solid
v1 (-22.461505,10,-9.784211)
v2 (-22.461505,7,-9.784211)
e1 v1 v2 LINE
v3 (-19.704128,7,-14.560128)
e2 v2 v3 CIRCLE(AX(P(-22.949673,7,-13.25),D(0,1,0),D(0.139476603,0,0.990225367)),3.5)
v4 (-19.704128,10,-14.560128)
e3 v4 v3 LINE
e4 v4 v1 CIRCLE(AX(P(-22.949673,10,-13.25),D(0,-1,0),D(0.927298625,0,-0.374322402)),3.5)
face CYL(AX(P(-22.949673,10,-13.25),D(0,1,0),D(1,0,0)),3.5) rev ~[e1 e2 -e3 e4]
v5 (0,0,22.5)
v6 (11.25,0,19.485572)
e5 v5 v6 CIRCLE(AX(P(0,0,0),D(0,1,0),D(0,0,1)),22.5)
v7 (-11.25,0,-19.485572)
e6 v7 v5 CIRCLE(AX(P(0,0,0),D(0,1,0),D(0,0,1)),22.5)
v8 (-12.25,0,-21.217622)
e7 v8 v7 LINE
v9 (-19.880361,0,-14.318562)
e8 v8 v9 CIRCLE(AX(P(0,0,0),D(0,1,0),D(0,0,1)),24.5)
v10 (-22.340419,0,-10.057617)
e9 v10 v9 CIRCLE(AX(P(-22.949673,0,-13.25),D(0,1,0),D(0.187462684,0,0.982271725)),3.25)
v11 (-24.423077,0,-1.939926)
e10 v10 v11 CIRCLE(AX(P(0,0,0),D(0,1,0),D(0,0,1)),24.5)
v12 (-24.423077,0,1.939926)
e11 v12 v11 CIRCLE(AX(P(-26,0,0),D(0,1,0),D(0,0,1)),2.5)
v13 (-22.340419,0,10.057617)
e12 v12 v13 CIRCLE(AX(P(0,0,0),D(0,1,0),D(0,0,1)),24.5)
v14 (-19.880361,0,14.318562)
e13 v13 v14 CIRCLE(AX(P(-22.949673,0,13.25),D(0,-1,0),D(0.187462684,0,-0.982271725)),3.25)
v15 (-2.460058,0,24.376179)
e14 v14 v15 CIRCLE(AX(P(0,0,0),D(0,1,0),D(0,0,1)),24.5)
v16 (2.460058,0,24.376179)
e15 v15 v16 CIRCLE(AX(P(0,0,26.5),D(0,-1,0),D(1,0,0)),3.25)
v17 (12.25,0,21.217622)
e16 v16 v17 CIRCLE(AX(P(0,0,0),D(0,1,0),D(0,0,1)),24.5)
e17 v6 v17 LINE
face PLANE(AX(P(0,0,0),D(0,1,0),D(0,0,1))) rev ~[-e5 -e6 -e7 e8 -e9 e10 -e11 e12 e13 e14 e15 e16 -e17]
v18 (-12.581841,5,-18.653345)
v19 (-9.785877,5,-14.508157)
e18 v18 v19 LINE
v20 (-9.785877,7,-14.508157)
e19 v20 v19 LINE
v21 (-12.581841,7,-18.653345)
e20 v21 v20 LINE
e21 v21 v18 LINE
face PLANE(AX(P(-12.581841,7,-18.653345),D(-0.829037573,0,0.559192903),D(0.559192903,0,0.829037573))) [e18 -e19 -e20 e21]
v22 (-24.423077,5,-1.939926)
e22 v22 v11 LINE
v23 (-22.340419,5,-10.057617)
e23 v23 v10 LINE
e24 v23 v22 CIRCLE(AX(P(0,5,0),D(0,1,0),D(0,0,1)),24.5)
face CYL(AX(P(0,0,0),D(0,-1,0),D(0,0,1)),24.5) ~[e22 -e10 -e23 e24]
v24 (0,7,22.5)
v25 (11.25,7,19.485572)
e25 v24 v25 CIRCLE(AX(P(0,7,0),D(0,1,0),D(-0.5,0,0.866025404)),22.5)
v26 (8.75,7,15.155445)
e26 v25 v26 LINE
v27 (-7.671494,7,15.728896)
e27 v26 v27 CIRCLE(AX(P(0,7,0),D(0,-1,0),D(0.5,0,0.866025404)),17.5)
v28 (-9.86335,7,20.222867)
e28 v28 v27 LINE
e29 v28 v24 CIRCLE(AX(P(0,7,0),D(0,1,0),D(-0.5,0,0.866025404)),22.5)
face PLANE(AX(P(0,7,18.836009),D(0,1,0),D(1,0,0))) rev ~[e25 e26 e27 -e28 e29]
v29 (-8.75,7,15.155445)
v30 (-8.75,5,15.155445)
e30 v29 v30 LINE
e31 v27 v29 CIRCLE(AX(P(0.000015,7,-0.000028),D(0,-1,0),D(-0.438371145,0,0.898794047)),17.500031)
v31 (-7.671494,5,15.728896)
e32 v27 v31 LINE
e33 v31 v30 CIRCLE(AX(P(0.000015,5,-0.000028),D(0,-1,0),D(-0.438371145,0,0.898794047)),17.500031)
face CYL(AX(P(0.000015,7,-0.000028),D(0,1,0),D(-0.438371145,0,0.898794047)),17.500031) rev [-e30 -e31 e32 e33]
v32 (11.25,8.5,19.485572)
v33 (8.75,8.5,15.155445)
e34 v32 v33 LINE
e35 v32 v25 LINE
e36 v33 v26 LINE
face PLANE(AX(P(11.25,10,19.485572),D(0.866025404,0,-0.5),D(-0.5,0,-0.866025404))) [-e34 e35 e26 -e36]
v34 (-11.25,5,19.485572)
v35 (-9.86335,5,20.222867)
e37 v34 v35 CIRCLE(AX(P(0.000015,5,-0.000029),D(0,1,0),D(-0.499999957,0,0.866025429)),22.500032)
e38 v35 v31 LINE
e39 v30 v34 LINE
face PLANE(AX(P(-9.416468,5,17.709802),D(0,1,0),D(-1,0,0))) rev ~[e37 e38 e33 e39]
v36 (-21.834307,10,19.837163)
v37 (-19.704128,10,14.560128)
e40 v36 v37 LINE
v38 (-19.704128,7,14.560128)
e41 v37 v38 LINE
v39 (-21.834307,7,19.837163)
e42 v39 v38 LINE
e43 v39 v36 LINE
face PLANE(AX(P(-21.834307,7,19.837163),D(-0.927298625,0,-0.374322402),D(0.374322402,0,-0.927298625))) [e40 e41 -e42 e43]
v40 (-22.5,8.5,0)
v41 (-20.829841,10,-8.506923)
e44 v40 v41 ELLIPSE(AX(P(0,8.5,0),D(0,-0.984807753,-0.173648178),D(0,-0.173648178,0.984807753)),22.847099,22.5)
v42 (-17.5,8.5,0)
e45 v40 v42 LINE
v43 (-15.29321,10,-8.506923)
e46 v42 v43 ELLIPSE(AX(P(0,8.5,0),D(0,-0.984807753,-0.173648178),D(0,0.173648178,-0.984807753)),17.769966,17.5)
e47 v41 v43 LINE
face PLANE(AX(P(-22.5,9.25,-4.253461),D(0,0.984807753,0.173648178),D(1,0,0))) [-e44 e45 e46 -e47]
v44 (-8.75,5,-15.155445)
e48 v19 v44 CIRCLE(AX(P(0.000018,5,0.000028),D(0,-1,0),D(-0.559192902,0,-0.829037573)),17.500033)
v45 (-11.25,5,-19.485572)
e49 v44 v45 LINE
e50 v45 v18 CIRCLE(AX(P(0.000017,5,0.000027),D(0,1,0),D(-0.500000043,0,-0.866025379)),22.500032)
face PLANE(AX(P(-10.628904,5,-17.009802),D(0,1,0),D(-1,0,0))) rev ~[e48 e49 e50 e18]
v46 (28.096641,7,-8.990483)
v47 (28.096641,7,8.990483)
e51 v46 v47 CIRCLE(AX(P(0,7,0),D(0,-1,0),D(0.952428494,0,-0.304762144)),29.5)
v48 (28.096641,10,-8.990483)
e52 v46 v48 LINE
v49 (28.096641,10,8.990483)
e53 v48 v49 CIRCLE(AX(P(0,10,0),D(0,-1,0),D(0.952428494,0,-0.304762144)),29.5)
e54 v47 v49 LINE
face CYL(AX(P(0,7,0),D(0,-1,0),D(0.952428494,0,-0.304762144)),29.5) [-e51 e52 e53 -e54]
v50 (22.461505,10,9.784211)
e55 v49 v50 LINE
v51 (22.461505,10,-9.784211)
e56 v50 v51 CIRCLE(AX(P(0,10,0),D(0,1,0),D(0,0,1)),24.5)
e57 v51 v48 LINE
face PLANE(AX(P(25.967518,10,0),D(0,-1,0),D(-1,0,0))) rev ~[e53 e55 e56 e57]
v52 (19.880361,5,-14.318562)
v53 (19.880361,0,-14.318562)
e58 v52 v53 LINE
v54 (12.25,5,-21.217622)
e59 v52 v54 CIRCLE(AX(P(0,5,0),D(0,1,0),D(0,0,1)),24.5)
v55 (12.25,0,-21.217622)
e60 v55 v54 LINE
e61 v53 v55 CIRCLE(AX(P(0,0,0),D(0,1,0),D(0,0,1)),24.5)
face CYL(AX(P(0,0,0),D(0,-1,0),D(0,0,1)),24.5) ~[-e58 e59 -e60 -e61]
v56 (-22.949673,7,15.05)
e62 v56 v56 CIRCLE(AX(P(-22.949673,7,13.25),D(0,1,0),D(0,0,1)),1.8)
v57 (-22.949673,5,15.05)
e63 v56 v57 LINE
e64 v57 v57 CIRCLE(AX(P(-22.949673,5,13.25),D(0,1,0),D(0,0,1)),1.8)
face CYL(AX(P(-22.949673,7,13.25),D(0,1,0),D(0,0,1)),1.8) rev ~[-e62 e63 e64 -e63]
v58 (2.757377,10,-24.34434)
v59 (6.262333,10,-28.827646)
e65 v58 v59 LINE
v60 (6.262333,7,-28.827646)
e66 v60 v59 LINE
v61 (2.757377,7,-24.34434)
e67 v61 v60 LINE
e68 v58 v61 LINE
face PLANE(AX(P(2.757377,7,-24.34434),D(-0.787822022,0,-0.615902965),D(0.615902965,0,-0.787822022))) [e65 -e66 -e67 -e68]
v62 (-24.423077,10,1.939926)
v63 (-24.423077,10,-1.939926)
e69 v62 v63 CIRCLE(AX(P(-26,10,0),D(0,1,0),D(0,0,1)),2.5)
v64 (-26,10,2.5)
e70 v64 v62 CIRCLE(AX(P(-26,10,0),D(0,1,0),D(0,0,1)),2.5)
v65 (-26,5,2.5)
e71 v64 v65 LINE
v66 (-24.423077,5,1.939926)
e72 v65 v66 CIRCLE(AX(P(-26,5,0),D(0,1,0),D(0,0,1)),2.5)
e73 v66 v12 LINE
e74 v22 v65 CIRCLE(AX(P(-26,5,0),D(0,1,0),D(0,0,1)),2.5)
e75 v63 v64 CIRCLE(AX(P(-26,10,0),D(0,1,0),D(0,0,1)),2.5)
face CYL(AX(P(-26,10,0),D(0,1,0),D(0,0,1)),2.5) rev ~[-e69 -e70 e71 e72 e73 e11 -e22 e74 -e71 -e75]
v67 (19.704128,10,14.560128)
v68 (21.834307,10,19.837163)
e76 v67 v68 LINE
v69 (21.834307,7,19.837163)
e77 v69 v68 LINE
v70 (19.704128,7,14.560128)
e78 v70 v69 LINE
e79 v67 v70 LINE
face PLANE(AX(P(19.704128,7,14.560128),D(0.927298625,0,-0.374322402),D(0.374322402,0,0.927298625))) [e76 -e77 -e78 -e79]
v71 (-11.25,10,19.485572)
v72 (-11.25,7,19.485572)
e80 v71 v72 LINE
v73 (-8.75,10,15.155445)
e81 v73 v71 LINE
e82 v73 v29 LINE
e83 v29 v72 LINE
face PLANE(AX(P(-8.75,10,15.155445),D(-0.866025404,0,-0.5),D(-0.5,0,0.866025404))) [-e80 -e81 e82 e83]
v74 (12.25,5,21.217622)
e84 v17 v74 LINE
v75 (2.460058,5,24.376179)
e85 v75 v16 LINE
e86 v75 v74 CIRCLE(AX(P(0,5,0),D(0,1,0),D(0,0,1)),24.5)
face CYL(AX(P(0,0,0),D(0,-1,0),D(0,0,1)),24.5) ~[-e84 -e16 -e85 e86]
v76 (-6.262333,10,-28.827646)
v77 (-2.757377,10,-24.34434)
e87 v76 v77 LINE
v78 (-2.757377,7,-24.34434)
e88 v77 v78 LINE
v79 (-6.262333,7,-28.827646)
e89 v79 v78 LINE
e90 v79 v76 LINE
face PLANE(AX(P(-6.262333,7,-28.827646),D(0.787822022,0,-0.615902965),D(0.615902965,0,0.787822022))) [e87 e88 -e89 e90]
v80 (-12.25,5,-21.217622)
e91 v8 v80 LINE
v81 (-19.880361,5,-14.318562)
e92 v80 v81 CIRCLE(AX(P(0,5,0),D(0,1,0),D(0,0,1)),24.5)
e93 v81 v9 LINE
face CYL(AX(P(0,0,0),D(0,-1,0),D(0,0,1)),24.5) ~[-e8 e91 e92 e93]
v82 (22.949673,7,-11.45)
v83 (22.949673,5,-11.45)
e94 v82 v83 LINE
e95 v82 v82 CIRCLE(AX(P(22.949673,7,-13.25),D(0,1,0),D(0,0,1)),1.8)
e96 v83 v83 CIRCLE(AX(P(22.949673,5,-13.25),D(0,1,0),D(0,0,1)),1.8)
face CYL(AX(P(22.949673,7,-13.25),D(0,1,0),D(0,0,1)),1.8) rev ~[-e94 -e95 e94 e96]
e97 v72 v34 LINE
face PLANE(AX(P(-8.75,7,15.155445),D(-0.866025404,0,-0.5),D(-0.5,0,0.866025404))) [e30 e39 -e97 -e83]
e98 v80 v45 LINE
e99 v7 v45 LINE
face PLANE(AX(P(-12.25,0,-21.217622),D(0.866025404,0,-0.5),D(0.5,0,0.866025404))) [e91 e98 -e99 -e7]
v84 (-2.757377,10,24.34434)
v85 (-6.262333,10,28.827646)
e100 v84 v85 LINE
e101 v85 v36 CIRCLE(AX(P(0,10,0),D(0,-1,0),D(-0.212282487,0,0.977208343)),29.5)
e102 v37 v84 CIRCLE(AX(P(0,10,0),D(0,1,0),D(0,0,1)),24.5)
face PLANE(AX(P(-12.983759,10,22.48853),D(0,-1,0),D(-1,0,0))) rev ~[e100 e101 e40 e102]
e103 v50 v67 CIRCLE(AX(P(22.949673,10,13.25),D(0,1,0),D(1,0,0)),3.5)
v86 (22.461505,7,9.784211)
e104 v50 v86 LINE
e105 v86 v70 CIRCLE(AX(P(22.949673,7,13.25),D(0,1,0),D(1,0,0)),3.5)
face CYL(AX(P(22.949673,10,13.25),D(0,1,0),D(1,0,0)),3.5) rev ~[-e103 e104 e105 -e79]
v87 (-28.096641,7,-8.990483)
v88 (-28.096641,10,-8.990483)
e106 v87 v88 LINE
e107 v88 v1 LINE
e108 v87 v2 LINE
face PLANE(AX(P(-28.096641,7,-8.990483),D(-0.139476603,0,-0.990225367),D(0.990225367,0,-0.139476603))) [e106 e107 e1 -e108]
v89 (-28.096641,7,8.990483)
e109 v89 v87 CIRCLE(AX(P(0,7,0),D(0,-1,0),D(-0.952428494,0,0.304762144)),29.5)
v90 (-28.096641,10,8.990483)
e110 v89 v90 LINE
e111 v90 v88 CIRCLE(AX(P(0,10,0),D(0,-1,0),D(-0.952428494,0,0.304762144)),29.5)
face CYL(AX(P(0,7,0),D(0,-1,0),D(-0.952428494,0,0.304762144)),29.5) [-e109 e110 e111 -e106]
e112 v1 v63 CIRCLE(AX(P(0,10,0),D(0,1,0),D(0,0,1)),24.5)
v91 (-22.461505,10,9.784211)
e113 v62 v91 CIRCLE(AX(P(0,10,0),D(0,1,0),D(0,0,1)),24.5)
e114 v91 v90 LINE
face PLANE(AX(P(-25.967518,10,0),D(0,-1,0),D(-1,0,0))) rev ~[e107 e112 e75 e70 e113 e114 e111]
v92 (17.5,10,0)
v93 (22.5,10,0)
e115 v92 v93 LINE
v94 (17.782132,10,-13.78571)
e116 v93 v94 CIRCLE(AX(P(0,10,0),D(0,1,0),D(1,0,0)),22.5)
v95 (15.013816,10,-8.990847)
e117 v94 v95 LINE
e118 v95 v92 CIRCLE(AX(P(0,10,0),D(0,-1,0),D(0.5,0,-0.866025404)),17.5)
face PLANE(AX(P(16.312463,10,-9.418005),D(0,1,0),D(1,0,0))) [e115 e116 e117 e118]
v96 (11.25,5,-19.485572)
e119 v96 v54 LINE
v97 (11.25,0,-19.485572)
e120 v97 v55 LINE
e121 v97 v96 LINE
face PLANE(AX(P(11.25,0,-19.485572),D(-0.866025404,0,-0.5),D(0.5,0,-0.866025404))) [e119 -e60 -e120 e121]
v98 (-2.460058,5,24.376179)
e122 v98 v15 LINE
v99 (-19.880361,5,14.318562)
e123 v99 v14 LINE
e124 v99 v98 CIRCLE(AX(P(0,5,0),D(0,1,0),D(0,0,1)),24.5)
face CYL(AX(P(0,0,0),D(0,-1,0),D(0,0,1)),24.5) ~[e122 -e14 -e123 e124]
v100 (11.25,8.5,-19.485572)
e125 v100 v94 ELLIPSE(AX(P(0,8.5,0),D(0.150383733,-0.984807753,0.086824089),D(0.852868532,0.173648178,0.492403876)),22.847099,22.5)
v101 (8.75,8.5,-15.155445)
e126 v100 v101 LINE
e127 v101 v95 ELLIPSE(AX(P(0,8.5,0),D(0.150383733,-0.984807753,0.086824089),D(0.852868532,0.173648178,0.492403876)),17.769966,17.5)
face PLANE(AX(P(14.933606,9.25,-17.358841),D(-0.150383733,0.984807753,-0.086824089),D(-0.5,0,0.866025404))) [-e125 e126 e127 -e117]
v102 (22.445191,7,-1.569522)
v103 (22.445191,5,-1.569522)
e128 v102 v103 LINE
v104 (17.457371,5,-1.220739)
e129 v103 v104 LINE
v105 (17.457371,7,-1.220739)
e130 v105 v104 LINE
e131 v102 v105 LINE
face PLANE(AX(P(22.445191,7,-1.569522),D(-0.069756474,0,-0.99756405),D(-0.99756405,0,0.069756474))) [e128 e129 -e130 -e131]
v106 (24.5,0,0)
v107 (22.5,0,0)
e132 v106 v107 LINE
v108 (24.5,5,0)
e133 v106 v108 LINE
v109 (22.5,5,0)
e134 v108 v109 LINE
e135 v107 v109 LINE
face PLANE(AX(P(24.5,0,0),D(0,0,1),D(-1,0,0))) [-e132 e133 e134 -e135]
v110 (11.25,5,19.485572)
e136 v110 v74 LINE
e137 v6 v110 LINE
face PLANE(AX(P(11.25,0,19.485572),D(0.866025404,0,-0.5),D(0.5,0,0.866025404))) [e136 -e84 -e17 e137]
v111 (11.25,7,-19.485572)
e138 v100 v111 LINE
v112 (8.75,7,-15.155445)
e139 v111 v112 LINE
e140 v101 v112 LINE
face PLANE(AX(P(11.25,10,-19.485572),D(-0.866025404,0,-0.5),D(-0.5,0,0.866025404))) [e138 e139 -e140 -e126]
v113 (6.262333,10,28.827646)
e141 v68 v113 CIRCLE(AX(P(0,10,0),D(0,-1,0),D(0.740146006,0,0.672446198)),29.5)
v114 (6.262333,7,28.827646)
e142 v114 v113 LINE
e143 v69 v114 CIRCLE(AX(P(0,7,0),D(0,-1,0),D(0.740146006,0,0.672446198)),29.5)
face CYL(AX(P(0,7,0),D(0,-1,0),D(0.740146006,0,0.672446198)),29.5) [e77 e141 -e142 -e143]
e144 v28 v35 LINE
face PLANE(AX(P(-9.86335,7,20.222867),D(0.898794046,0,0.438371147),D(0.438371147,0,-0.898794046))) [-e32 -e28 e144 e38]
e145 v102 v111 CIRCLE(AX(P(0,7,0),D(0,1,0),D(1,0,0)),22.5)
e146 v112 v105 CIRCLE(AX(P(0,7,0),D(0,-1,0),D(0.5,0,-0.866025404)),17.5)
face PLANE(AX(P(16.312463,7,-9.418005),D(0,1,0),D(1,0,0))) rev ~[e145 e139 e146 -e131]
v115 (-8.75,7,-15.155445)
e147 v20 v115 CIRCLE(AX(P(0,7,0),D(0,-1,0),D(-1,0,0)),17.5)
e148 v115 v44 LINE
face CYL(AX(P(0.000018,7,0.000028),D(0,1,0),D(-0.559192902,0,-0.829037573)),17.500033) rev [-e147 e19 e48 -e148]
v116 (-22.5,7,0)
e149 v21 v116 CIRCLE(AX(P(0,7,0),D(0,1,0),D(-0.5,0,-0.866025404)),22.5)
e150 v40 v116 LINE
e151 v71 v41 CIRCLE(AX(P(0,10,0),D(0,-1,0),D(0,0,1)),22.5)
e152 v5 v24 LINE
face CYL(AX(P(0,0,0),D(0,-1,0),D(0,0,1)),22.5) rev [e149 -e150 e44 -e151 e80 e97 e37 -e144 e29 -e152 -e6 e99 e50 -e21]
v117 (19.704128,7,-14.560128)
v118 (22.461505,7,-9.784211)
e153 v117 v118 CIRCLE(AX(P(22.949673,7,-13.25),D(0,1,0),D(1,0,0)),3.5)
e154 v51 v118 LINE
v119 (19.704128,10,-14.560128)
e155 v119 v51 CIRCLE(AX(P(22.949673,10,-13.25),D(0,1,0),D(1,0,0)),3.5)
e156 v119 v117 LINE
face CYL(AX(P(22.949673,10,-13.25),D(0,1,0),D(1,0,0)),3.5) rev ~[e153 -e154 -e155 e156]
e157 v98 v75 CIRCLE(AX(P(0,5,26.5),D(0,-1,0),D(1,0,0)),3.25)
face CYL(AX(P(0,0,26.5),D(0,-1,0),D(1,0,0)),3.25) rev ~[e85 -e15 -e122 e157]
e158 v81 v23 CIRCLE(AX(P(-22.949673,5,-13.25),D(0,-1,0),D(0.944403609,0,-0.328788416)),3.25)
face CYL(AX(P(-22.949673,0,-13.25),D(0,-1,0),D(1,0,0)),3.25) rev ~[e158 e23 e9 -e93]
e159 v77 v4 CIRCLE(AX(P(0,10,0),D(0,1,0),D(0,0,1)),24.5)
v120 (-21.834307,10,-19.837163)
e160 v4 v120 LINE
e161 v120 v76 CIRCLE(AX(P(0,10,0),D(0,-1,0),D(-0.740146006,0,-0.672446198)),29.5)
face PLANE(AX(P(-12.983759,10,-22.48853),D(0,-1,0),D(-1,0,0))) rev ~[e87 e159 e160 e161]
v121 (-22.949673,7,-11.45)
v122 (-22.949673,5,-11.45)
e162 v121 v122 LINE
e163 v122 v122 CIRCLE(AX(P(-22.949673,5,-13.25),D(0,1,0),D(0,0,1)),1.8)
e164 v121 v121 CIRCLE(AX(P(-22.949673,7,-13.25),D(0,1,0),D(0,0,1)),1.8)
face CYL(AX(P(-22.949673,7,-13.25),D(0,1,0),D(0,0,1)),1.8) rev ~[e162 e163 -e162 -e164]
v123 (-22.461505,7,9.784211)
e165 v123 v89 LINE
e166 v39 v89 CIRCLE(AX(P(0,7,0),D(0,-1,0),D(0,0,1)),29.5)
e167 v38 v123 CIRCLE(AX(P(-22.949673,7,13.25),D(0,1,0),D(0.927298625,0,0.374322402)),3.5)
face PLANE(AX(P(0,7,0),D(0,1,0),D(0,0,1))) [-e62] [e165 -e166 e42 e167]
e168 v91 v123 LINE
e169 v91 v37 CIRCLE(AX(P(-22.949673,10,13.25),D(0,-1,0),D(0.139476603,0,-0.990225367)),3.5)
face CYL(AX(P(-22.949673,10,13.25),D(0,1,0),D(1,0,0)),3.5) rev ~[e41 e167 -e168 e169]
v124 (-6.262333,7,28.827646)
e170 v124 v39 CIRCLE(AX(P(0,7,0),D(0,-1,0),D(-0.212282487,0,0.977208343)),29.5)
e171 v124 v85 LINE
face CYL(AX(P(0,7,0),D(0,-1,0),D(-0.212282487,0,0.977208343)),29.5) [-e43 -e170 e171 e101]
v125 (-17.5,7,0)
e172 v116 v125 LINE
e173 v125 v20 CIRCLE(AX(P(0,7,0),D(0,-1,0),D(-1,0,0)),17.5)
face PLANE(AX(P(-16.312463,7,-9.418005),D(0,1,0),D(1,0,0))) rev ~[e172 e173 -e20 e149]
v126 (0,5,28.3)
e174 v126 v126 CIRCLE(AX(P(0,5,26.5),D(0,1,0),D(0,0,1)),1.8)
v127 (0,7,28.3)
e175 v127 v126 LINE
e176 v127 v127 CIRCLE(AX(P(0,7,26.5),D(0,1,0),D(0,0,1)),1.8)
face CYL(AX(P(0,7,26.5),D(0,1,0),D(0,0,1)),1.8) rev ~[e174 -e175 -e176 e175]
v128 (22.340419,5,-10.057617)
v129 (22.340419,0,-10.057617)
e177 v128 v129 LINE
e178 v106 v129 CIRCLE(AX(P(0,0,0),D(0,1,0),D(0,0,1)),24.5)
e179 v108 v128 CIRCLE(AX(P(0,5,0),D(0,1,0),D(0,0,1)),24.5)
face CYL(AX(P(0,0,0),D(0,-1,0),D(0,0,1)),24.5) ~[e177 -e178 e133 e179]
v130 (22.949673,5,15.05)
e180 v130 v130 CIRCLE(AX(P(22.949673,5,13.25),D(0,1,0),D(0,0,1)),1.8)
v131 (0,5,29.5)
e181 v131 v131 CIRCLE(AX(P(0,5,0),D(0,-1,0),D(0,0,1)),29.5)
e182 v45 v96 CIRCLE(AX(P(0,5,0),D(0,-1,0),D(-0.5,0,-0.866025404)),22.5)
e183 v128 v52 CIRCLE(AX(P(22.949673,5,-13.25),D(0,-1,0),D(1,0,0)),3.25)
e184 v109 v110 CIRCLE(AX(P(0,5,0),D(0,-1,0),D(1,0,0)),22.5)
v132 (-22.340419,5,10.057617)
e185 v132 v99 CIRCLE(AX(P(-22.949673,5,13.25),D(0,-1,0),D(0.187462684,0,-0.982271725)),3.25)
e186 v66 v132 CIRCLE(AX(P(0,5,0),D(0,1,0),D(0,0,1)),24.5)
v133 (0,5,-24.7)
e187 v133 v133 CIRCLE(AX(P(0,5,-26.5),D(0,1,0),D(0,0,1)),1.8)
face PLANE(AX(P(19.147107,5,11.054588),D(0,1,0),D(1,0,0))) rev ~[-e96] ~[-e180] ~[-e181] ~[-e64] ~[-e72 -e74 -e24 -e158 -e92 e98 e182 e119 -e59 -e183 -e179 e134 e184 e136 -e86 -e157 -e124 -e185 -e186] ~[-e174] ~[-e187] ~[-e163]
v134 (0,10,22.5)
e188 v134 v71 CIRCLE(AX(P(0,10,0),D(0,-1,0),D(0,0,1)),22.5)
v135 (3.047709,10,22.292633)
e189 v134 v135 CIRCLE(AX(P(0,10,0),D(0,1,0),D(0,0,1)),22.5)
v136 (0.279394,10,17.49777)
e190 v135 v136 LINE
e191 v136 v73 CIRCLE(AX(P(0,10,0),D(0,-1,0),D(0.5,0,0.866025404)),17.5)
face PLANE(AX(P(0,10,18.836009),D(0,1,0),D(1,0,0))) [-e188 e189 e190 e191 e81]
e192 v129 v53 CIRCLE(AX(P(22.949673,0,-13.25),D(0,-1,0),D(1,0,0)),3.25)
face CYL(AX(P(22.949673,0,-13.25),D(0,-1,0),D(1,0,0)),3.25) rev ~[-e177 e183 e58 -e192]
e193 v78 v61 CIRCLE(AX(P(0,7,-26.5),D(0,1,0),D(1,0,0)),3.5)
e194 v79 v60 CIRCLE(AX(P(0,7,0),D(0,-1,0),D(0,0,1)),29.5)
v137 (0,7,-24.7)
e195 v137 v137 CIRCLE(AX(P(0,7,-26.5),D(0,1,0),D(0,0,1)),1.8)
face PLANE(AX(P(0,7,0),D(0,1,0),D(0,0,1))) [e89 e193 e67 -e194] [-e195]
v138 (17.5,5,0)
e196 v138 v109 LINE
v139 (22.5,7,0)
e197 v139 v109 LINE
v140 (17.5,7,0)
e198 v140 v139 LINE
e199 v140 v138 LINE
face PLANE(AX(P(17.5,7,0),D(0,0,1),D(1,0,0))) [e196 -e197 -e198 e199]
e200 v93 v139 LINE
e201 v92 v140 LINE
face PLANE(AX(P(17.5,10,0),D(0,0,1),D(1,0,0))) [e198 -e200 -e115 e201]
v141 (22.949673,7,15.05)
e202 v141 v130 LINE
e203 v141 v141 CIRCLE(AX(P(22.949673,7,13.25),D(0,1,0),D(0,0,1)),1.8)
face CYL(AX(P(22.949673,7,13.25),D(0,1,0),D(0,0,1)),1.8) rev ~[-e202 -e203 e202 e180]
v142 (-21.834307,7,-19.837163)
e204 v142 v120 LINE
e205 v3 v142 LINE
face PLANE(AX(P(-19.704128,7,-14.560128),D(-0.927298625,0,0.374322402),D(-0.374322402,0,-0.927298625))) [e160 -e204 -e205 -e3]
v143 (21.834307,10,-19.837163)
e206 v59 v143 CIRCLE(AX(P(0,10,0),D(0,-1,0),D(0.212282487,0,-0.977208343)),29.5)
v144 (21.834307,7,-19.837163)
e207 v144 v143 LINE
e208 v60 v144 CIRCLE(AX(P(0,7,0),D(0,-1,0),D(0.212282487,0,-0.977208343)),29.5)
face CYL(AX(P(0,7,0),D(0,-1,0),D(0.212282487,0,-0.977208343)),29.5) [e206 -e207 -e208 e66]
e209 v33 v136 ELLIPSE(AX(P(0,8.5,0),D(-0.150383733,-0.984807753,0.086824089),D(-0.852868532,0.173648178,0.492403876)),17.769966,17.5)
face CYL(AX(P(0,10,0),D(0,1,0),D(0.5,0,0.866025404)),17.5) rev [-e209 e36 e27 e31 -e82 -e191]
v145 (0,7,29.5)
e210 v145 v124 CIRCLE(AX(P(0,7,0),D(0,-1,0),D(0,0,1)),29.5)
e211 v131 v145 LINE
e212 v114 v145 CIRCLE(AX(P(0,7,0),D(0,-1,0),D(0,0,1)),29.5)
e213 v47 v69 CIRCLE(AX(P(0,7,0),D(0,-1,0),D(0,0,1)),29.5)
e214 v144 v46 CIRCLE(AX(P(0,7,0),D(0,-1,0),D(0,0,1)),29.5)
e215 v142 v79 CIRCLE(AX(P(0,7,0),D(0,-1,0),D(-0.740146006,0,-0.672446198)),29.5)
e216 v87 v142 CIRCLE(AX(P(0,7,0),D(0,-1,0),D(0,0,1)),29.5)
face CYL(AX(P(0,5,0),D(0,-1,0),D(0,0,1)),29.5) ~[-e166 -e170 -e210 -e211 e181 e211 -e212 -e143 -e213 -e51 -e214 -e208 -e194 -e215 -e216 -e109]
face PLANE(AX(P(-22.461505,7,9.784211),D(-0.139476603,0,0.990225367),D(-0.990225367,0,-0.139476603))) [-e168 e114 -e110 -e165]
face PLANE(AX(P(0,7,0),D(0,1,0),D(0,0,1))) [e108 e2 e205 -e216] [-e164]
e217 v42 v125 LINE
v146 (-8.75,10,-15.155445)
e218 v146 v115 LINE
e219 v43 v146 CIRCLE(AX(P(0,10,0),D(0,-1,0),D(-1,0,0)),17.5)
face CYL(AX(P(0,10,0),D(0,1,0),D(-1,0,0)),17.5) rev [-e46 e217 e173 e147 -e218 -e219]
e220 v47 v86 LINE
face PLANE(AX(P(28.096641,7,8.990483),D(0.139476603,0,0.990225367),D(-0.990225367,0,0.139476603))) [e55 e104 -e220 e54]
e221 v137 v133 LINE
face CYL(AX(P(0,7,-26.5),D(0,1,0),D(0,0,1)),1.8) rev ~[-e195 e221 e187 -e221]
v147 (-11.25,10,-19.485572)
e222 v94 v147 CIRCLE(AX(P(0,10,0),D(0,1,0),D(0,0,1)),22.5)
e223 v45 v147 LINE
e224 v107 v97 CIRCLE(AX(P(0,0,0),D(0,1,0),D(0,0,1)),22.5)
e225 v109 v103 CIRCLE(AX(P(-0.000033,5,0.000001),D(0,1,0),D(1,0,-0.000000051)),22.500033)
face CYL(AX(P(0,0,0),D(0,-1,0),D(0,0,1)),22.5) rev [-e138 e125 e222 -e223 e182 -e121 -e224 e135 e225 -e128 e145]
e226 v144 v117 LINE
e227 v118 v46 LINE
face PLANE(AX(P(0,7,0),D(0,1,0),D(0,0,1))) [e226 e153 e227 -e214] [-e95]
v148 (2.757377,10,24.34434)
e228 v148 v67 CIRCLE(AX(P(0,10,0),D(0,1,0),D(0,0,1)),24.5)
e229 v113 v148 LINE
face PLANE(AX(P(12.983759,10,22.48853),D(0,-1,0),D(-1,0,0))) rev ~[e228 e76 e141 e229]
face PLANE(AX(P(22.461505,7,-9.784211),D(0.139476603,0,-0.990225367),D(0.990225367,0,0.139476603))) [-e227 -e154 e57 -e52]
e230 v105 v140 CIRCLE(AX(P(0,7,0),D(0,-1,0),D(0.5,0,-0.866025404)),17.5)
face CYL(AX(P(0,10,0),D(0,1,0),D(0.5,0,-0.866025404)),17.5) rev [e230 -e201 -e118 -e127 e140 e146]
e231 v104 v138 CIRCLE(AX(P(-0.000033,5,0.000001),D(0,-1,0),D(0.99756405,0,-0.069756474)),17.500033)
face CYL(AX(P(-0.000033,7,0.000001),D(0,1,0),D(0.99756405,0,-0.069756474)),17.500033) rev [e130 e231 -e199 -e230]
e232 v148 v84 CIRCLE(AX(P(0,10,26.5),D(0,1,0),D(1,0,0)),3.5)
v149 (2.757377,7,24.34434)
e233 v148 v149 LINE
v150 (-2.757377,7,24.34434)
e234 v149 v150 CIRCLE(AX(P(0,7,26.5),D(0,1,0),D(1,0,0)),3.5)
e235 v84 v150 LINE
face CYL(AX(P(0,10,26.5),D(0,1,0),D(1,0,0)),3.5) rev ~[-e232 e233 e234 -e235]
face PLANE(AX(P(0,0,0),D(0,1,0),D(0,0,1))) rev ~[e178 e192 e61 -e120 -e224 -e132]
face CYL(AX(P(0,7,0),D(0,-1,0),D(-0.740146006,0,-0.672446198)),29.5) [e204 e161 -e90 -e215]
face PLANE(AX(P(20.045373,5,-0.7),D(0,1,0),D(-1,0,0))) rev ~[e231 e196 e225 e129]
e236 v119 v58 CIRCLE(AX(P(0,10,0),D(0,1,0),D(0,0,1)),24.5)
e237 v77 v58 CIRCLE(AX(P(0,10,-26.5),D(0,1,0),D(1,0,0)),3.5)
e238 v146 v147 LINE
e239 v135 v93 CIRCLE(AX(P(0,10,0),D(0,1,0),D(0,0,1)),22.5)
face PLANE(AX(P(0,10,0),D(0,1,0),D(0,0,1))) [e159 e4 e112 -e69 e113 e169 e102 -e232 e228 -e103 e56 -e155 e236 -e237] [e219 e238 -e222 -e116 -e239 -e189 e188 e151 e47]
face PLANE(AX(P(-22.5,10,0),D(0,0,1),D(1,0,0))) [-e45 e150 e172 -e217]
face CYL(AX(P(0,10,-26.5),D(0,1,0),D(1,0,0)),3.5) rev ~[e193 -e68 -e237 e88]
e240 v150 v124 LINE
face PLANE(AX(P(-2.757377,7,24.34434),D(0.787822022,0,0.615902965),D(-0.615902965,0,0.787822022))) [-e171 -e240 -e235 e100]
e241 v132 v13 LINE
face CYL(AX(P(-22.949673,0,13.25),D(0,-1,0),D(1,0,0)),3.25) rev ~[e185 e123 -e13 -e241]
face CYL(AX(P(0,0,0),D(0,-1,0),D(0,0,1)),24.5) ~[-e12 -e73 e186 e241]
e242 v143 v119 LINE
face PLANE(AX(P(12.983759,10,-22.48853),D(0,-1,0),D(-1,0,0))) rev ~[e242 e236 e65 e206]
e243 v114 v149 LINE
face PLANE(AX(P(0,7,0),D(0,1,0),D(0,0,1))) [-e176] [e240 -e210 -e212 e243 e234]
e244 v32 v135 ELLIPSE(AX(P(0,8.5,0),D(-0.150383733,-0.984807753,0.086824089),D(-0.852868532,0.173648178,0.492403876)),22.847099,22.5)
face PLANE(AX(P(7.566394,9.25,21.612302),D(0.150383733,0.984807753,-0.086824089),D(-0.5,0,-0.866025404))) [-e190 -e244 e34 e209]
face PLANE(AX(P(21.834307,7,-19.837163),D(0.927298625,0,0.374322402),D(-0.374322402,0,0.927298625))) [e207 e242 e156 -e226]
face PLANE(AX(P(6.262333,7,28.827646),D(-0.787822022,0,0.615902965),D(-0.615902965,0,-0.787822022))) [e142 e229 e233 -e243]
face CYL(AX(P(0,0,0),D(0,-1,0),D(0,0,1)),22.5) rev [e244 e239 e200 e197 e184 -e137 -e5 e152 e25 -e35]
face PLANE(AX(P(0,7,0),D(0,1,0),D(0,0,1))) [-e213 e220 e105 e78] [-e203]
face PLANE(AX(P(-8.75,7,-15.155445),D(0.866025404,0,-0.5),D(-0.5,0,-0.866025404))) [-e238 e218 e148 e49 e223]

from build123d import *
from build123d.topology import SkipClean

# Parameters (mm, degrees)
SKETCH2_R             = 24.5
SKETCH2_R_2           = 22.5
BOSS_EXTRUDE1_DEPTH   = 10
BOSS_EXTRUDE2_START   = -5
SKETCH3_R             = 29.5
SKETCH3_R_2           = 24.5
BOSS_EXTRUDE2_DEPTH   = 2
CUT_EXTRUDE1_REACH    = 44.302
SKETCH5_R             = 1.8
SKETCH6_R             = 3.5
CUT_EXTRUDE2_DEPTH    = 3
SKETCH7_R             = 3.25
CUT_EXTRUDE3_DEPTH    = 5
BOSS_EXTRUDE3_DEPTH   = 3
BOSS_EXTRUDE3_2_DEPTH = 3
BOSS_EXTRUDE3_3_DEPTH = 3
BOSS_EXTRUDE4_DEPTH   = 2
CHAMFER1_SIZE         = 1.5
CHAMFER1_SIZE2        = 8.506922729
CHAMFER2_SIZE         = 1.5
CHAMFER2_SIZE2        = 8.506922729
CHAMFER3_SIZE         = 1.5
CHAMFER3_SIZE2        = 8.506922729
CUT_EXTRUDE4_DEPTH    = 5
BOSS_EXTRUDE5_START   = -3
BOSS_EXTRUDE5_DEPTH   = 3
SKETCH14_R            = 2.5
CUT_EXTRUDE5_DEPTH    = 43.901048938


with BuildPart() as part:
    # Sketch2 → Boss-Extrude1 (new body)
    with BuildSketch(Plane(origin=(0, 0, 0), x_dir=(1, 0, 0), z_dir=(0, 1, 0))):
        with Locations(Location((0, 0, 0), (0, 0, 270))):
            Circle(SKETCH2_R)
        with Locations(Location((0, 0, 0), (0, 0, 270))):
            Circle(SKETCH2_R_2, mode=Mode.SUBTRACT)
    extrude(amount=BOSS_EXTRUDE1_DEPTH)

    # Sketch3 → Boss-Extrude2 (add)
    with BuildSketch(Plane(origin=(0, 10, 0), x_dir=(1, 0, 0), z_dir=(0, 1, 0)).offset(BOSS_EXTRUDE2_START)):
        with Locations(Location((0, 0, 0), (0, 0, 270))):
            Circle(SKETCH3_R)
        with Locations(Location((0, 0, 0), (0, 0, 270))):
            Circle(SKETCH3_R_2, mode=Mode.SUBTRACT)
    extrude(amount=BOSS_EXTRUDE2_DEPTH)

    # Sketch5 → Cut-Extrude1 (cut, up to next)
    with BuildSketch(Plane(origin=(0, 7, 0), x_dir=(1, 0, 0), z_dir=(0, 1, 0)), mode=Mode.PRIVATE) as cut_extrude1_sk1:
        with Locations(Location((0, 26.5, 0), (0, 0, 270))):
            Circle(SKETCH5_R)
    cut_extrude1_tool1 = extrude(cut_extrude1_sk1.sketch, amount=-CUT_EXTRUDE1_REACH, mode=Mode.PRIVATE) & part.part
    # Sketch5 → Cut-Extrude1 (cut, up to next)
    with BuildSketch(Plane(origin=(0, 7, 0), x_dir=(1, 0, 0), z_dir=(0, 1, 0)), mode=Mode.PRIVATE) as cut_extrude1_sk2:
        with Locations(Location((22.9496732, 13.25, 0), (0, 0, 270))):
            Circle(SKETCH5_R)
    cut_extrude1_tool2 = extrude(cut_extrude1_sk2.sketch, amount=-CUT_EXTRUDE1_REACH, mode=Mode.PRIVATE) & part.part
    # Sketch5 → Cut-Extrude1 (cut, up to next)
    with BuildSketch(Plane(origin=(0, 7, 0), x_dir=(1, 0, 0), z_dir=(0, 1, 0)), mode=Mode.PRIVATE) as cut_extrude1_sk3:
        with Locations(Location((22.9496732, -13.25, 0), (0, 0, 270))):
            Circle(SKETCH5_R)
    cut_extrude1_tool3 = extrude(cut_extrude1_sk3.sketch, amount=-CUT_EXTRUDE1_REACH, mode=Mode.PRIVATE) & part.part
    # Sketch5 → Cut-Extrude1 (cut, up to next)
    with BuildSketch(Plane(origin=(0, 7, 0), x_dir=(1, 0, 0), z_dir=(0, 1, 0)), mode=Mode.PRIVATE) as cut_extrude1_sk4:
        with Locations(Location((0, -26.5, 0), (0, 0, 270))):
            Circle(SKETCH5_R)
    cut_extrude1_tool4 = extrude(cut_extrude1_sk4.sketch, amount=-CUT_EXTRUDE1_REACH, mode=Mode.PRIVATE) & part.part
    # Sketch5 → Cut-Extrude1 (cut, up to next)
    with BuildSketch(Plane(origin=(0, 7, 0), x_dir=(1, 0, 0), z_dir=(0, 1, 0)), mode=Mode.PRIVATE) as cut_extrude1_sk5:
        with Locations(Location((-22.9496732, -13.25, 0), (0, 0, 270))):
            Circle(SKETCH5_R)
    cut_extrude1_tool5 = extrude(cut_extrude1_sk5.sketch, amount=-CUT_EXTRUDE1_REACH, mode=Mode.PRIVATE) & part.part
    # Sketch5 → Cut-Extrude1 (cut, up to next)
    with BuildSketch(Plane(origin=(0, 7, 0), x_dir=(1, 0, 0), z_dir=(0, 1, 0)), mode=Mode.PRIVATE) as cut_extrude1_sk6:
        with Locations(Location((-22.9496732, 13.25, 0), (0, 0, 270))):
            Circle(SKETCH5_R)
    cut_extrude1_tool6 = extrude(cut_extrude1_sk6.sketch, amount=-CUT_EXTRUDE1_REACH, mode=Mode.PRIVATE) & part.part
    add(cut_extrude1_tool1.solids().sort_by_distance((0, 7, -26.5))[0], mode=Mode.SUBTRACT)
    add(cut_extrude1_tool2.solids().sort_by_distance((22.949673, 7, -13.25))[0], mode=Mode.SUBTRACT)
    add(cut_extrude1_tool3.solids().sort_by_distance((22.949673, 7, 13.25))[0], mode=Mode.SUBTRACT)
    add(cut_extrude1_tool4.solids().sort_by_distance((0, 7, 26.5))[0], mode=Mode.SUBTRACT)
    add(cut_extrude1_tool5.solids().sort_by_distance((-22.949673, 7, 13.25))[0], mode=Mode.SUBTRACT)
    add(cut_extrude1_tool6.solids().sort_by_distance((-22.949673, 7, -13.25))[0], mode=Mode.SUBTRACT)

    # Sketch6 → Cut-Extrude2 (cut)
    with BuildSketch(Plane(origin=(0, 10, 0), x_dir=(1, 0, 0), z_dir=(0, 1, 0))):
        with Locations((0, 26.5)):
            Circle(SKETCH6_R)
        with Locations((22.9496732, 13.25)):
            Circle(SKETCH6_R)
        with Locations((22.9496732, -13.25)):
            Circle(SKETCH6_R)
        with Locations((0, -26.5)):
            Circle(SKETCH6_R)
        with Locations((-22.9496732, -13.25)):
            Circle(SKETCH6_R)
        with Locations((-22.9496732, 13.25)):
            Circle(SKETCH6_R)
    extrude(amount=-CUT_EXTRUDE2_DEPTH, mode=Mode.SUBTRACT)

    # Sketch7 → Cut-Extrude3 (cut)
    with BuildSketch(Plane.XZ):
        with Locations((0, 26.5)):
            Circle(SKETCH7_R)
        with Locations((22.9496732, 13.25)):
            Circle(SKETCH7_R)
        with Locations((22.9496732, -13.25)):
            Circle(SKETCH7_R)
        with Locations((0, -26.5)):
            Circle(SKETCH7_R)
        with Locations((-22.9496732, -13.25)):
            Circle(SKETCH7_R)
        with Locations((-22.9496732, 13.25)):
            Circle(SKETCH7_R)
    extrude(amount=-CUT_EXTRUDE3_DEPTH, mode=Mode.SUBTRACT)



with BuildPart() as body_2:
    # Sketch8 → Boss-Extrude3 (new body)
    with BuildSketch(Plane(origin=(0, 10, 0), x_dir=(1, 0, 0), z_dir=(0, 1, 0))):
        with BuildLine():
            Line((-8.75, 15.155444566), (-11.25, 19.485571585))
            ThreePointArc((-11.25, 19.485571585), (-19.485571585, 11.25), (-22.5, 0))
            Line((-22.5, 0), (-17.5, 0))
            ThreePointArc((-17.5, 0), (-15.155444566, 8.75), (-8.75, 15.155444566))
        make_face()
    extrude(amount=-BOSS_EXTRUDE3_DEPTH)


with BuildPart() as body_3:
    # Sketch8 → Boss-Extrude3 2 (new body)
    with BuildSketch(Plane(origin=(0, 10, 0), x_dir=(1, 0, 0), z_dir=(0, 1, 0))):
        with BuildLine():
            Line((17.5, 0), (22.5, 0))
            ThreePointArc((22.5, 0), (19.485571585, 11.25), (11.25, 19.485571585))
            Line((11.25, 19.485571585), (8.75, 15.155444566))
            ThreePointArc((8.75, 15.155444566), (15.155444566, 8.75), (17.5, 0))
        make_face()
    extrude(amount=-BOSS_EXTRUDE3_2_DEPTH)

    # Chamfer3
    chamfer3_edges = [body_3.edges().sort_by_distance(p)[0] for p in [
        (10, 10, -17.320508076),
    ]]
    chamfer3_side = [body_3.faces().sort_by_distance(p)[0] for p in [
        (10, 8.5, -17.320508076),
    ]]
    chamfer(chamfer3_edges, length=CHAMFER3_SIZE, length2=CHAMFER3_SIZE2, reference=chamfer3_side[0])



with BuildPart() as body_4:
    # Sketch8 → Boss-Extrude3 3 (new body)
    with BuildSketch(Plane(origin=(0, 10, 0), x_dir=(1, 0, 0), z_dir=(0, 1, 0))):
        with BuildLine():
            Line((-8.75, -15.155444566), (-11.25, -19.485571585))
            ThreePointArc((-11.25, -19.485571585), (0, -22.5), (11.25, -19.485571585))
            Line((11.25, -19.485571585), (8.75, -15.155444566))
            ThreePointArc((8.75, -15.155444566), (0, -17.5), (-8.75, -15.155444566))
        make_face()
    extrude(amount=-BOSS_EXTRUDE3_3_DEPTH)

    # Chamfer2
    chamfer2_edges = [body_4.edges().sort_by_distance(p)[0] for p in [
        (10, 10, 17.320508076),
    ]]
    chamfer2_side = [body_4.faces().sort_by_distance(p)[0] for p in [
        (10, 8.5, 17.320508076),
    ]]
    chamfer(chamfer2_edges, length=CHAMFER2_SIZE, length2=CHAMFER2_SIZE2, reference=chamfer2_side[0])


with BuildPart() as part_1:
    add(part.part)

    add(body_2.part)  # Boss-Extrude4 merges body 2
    # Sketch9 → Boss-Extrude4 (add)
    with BuildSketch(Plane.XZ.offset(-7)):
        with BuildLine():
            Line((-8.75, -15.155444566), (-11.25, -19.485571585))
            ThreePointArc((-11.25, -19.485571585), (-11.923183918, -19.081081845), (-12.581841272, -18.653344746))
            Line((-12.581841272, -18.653344746), (-9.785876755, -14.508156883))
            ThreePointArc((-9.785876755, -14.508156883), (-9.273587596, -14.840841364), (-8.75, -15.155444566))
        make_face()
        with BuildLine():
            Line((-8.75, 15.155444566), (-11.25, 19.485571585))
            ThreePointArc((-11.25, 19.485571585), (-10.563109651, 19.866321089), (-9.863349779, 20.222866541))
            Line((-9.863349779, 20.222866541), (-7.671494045, 15.728896309))
            ThreePointArc((-7.671494045, 15.728896309), (-8.215751837, 15.451583125), (-8.75, 15.155444566))
        make_face()
        with BuildLine():
            Line((17.5, 0), (22.5, 0))
            ThreePointArc((22.5, 0), (22.486293568, -0.785239244), (22.445191051, -1.569521795))
            Line((22.445191051, -1.569521795), (17.4573708, -1.220739427))
            ThreePointArc((17.4573708, -1.220739427), (17.489339433, -0.610741761), (17.5, 0))
        make_face()
    extrude(amount=BOSS_EXTRUDE4_DEPTH)

    # Chamfer1
    chamfer1_edges = [part_1.edges().sort_by_distance(p)[0] for p in [
        (-20, 10, 0),
    ]]
    chamfer1_side = [part_1.faces().sort_by_distance(p)[0] for p in [
        (-20, 8.5, 0),
    ]]
    chamfer(chamfer1_edges, length=CHAMFER1_SIZE, length2=CHAMFER1_SIZE2, reference=chamfer1_side[0])

    # Sketch12 → Cut-Extrude4 (cut)
    with BuildSketch(Plane(origin=(0, 0, 0), x_dir=(-1, 0, 0), z_dir=(0, -1, 0))):
        with BuildLine():
            Line((-24.5, 0), (-22.5, 0))
            ThreePointArc((-22.5, 0), (-19.485571585, -11.25), (-11.25, -19.485571585))
            Line((-11.25, -19.485571585), (-12.25, -21.217622393))
            ThreePointArc((-12.25, -21.217622393), (-21.217622393, -12.25), (-24.5, 0))
        make_face()
        with BuildLine():
            Line((12.25, 21.217622393), (11.25, 19.485571585))
            ThreePointArc((11.25, 19.485571585), (0, 22.5), (-11.25, 19.485571585))
            Line((-11.25, 19.485571585), (-12.25, 21.217622393))
            ThreePointArc((-12.25, 21.217622393), (0, 24.5), (12.25, 21.217622393))
        make_face()
    extrude(amount=-CUT_EXTRUDE4_DEPTH, mode=Mode.SUBTRACT)


with BuildPart() as body_3_1:
    with SkipClean():  # the faces are left unmerged after this step: merging them gives an invalid solid
        add(body_3.part)

        add(part_1.part)  # Boss-Extrude5 merges part

        add(body_4.part)  # Boss-Extrude5 merges body 4
        # Sketch13 → Boss-Extrude5 (add)
        with BuildSketch(Plane(origin=(0, 10, 0), x_dir=(1, 0, 0), z_dir=(0, 1, 0)).offset(BOSS_EXTRUDE5_START)):
            with BuildLine():
                Line((-19.704128014, 14.560128407), (-21.834307178, 19.837162853))
                ThreePointArc((-21.834307178, 19.837162853), (-14.75, 25.547749412), (-6.262333381, 28.827646117))
                Line((-6.262333381, 28.827646117), (-2.757377076, 24.344339623))
                ThreePointArc((-2.757377076, 24.344339623), (-12.25, 21.217622393), (-19.704128014, 14.560128407))
            make_face()
            with BuildLine():
                Line((2.757377076, 24.344339623), (6.262333381, 28.827646117))
                ThreePointArc((6.262333381, 28.827646117), (14.75, 25.547749412), (21.834307178, 19.837162853))
                Line((21.834307178, 19.837162853), (19.704128014, 14.560128407))
                ThreePointArc((19.704128014, 14.560128407), (12.25, 21.217622393), (2.757377076, 24.344339623))
            make_face()
            with BuildLine():
                Line((22.461505089, 9.784211216), (28.096640559, 8.990483263))
                ThreePointArc((28.096640559, 8.990483263), (29.5, 0), (28.096640559, -8.990483263))
                Line((28.096640559, -8.990483263), (22.461505089, -9.784211216))
                ThreePointArc((22.461505089, -9.784211216), (24.5, 0), (22.461505089, 9.784211216))
            make_face()
            with BuildLine():
                Line((19.704128014, -14.560128407), (21.834307178, -19.837162853))
                ThreePointArc((21.834307178, -19.837162853), (14.75, -25.547749412), (6.262333381, -28.827646117))
                Line((6.262333381, -28.827646117), (2.757377076, -24.344339623))
                ThreePointArc((2.757377076, -24.344339623), (12.25, -21.217622393), (19.704128014, -14.560128407))
            make_face()
            with BuildLine():
                Line((-2.757377076, -24.344339623), (-6.262333381, -28.827646117))
                ThreePointArc((-6.262333381, -28.827646117), (-14.75, -25.547749412), (-21.834307178, -19.837162853))
                Line((-21.834307178, -19.837162853), (-19.704128014, -14.560128407))
                ThreePointArc((-19.704128014, -14.560128407), (-12.25, -21.217622393), (-2.757377076, -24.344339623))
            make_face()
            with BuildLine():
                Line((-22.461505089, -9.784211216), (-28.096640559, -8.990483263))
                ThreePointArc((-28.096640559, -8.990483263), (-29.5, 0), (-28.096640559, 8.990483263))
                Line((-28.096640559, 8.990483263), (-22.461505089, 9.784211216))
                ThreePointArc((-22.461505089, 9.784211216), (-24.5, 0), (-22.461505089, -9.784211216))
            make_face()
        extrude(amount=BOSS_EXTRUDE5_DEPTH)

    # Sketch14 → Cut-Extrude5 (cut, through all)
    with SkipClean():  # the faces are left unmerged after this step: merging them gives an invalid solid
        with BuildSketch(Plane(origin=(0, 10, 0), x_dir=(1, 0, 0), z_dir=(0, 1, 0))):
            with Locations(Location((-26, 0, 0), (0, 0, 270))):
                Circle(SKETCH14_R)
        extrude(amount=-CUT_EXTRUDE5_DEPTH, mode=Mode.SUBTRACT)


solid = body_3_1.part
